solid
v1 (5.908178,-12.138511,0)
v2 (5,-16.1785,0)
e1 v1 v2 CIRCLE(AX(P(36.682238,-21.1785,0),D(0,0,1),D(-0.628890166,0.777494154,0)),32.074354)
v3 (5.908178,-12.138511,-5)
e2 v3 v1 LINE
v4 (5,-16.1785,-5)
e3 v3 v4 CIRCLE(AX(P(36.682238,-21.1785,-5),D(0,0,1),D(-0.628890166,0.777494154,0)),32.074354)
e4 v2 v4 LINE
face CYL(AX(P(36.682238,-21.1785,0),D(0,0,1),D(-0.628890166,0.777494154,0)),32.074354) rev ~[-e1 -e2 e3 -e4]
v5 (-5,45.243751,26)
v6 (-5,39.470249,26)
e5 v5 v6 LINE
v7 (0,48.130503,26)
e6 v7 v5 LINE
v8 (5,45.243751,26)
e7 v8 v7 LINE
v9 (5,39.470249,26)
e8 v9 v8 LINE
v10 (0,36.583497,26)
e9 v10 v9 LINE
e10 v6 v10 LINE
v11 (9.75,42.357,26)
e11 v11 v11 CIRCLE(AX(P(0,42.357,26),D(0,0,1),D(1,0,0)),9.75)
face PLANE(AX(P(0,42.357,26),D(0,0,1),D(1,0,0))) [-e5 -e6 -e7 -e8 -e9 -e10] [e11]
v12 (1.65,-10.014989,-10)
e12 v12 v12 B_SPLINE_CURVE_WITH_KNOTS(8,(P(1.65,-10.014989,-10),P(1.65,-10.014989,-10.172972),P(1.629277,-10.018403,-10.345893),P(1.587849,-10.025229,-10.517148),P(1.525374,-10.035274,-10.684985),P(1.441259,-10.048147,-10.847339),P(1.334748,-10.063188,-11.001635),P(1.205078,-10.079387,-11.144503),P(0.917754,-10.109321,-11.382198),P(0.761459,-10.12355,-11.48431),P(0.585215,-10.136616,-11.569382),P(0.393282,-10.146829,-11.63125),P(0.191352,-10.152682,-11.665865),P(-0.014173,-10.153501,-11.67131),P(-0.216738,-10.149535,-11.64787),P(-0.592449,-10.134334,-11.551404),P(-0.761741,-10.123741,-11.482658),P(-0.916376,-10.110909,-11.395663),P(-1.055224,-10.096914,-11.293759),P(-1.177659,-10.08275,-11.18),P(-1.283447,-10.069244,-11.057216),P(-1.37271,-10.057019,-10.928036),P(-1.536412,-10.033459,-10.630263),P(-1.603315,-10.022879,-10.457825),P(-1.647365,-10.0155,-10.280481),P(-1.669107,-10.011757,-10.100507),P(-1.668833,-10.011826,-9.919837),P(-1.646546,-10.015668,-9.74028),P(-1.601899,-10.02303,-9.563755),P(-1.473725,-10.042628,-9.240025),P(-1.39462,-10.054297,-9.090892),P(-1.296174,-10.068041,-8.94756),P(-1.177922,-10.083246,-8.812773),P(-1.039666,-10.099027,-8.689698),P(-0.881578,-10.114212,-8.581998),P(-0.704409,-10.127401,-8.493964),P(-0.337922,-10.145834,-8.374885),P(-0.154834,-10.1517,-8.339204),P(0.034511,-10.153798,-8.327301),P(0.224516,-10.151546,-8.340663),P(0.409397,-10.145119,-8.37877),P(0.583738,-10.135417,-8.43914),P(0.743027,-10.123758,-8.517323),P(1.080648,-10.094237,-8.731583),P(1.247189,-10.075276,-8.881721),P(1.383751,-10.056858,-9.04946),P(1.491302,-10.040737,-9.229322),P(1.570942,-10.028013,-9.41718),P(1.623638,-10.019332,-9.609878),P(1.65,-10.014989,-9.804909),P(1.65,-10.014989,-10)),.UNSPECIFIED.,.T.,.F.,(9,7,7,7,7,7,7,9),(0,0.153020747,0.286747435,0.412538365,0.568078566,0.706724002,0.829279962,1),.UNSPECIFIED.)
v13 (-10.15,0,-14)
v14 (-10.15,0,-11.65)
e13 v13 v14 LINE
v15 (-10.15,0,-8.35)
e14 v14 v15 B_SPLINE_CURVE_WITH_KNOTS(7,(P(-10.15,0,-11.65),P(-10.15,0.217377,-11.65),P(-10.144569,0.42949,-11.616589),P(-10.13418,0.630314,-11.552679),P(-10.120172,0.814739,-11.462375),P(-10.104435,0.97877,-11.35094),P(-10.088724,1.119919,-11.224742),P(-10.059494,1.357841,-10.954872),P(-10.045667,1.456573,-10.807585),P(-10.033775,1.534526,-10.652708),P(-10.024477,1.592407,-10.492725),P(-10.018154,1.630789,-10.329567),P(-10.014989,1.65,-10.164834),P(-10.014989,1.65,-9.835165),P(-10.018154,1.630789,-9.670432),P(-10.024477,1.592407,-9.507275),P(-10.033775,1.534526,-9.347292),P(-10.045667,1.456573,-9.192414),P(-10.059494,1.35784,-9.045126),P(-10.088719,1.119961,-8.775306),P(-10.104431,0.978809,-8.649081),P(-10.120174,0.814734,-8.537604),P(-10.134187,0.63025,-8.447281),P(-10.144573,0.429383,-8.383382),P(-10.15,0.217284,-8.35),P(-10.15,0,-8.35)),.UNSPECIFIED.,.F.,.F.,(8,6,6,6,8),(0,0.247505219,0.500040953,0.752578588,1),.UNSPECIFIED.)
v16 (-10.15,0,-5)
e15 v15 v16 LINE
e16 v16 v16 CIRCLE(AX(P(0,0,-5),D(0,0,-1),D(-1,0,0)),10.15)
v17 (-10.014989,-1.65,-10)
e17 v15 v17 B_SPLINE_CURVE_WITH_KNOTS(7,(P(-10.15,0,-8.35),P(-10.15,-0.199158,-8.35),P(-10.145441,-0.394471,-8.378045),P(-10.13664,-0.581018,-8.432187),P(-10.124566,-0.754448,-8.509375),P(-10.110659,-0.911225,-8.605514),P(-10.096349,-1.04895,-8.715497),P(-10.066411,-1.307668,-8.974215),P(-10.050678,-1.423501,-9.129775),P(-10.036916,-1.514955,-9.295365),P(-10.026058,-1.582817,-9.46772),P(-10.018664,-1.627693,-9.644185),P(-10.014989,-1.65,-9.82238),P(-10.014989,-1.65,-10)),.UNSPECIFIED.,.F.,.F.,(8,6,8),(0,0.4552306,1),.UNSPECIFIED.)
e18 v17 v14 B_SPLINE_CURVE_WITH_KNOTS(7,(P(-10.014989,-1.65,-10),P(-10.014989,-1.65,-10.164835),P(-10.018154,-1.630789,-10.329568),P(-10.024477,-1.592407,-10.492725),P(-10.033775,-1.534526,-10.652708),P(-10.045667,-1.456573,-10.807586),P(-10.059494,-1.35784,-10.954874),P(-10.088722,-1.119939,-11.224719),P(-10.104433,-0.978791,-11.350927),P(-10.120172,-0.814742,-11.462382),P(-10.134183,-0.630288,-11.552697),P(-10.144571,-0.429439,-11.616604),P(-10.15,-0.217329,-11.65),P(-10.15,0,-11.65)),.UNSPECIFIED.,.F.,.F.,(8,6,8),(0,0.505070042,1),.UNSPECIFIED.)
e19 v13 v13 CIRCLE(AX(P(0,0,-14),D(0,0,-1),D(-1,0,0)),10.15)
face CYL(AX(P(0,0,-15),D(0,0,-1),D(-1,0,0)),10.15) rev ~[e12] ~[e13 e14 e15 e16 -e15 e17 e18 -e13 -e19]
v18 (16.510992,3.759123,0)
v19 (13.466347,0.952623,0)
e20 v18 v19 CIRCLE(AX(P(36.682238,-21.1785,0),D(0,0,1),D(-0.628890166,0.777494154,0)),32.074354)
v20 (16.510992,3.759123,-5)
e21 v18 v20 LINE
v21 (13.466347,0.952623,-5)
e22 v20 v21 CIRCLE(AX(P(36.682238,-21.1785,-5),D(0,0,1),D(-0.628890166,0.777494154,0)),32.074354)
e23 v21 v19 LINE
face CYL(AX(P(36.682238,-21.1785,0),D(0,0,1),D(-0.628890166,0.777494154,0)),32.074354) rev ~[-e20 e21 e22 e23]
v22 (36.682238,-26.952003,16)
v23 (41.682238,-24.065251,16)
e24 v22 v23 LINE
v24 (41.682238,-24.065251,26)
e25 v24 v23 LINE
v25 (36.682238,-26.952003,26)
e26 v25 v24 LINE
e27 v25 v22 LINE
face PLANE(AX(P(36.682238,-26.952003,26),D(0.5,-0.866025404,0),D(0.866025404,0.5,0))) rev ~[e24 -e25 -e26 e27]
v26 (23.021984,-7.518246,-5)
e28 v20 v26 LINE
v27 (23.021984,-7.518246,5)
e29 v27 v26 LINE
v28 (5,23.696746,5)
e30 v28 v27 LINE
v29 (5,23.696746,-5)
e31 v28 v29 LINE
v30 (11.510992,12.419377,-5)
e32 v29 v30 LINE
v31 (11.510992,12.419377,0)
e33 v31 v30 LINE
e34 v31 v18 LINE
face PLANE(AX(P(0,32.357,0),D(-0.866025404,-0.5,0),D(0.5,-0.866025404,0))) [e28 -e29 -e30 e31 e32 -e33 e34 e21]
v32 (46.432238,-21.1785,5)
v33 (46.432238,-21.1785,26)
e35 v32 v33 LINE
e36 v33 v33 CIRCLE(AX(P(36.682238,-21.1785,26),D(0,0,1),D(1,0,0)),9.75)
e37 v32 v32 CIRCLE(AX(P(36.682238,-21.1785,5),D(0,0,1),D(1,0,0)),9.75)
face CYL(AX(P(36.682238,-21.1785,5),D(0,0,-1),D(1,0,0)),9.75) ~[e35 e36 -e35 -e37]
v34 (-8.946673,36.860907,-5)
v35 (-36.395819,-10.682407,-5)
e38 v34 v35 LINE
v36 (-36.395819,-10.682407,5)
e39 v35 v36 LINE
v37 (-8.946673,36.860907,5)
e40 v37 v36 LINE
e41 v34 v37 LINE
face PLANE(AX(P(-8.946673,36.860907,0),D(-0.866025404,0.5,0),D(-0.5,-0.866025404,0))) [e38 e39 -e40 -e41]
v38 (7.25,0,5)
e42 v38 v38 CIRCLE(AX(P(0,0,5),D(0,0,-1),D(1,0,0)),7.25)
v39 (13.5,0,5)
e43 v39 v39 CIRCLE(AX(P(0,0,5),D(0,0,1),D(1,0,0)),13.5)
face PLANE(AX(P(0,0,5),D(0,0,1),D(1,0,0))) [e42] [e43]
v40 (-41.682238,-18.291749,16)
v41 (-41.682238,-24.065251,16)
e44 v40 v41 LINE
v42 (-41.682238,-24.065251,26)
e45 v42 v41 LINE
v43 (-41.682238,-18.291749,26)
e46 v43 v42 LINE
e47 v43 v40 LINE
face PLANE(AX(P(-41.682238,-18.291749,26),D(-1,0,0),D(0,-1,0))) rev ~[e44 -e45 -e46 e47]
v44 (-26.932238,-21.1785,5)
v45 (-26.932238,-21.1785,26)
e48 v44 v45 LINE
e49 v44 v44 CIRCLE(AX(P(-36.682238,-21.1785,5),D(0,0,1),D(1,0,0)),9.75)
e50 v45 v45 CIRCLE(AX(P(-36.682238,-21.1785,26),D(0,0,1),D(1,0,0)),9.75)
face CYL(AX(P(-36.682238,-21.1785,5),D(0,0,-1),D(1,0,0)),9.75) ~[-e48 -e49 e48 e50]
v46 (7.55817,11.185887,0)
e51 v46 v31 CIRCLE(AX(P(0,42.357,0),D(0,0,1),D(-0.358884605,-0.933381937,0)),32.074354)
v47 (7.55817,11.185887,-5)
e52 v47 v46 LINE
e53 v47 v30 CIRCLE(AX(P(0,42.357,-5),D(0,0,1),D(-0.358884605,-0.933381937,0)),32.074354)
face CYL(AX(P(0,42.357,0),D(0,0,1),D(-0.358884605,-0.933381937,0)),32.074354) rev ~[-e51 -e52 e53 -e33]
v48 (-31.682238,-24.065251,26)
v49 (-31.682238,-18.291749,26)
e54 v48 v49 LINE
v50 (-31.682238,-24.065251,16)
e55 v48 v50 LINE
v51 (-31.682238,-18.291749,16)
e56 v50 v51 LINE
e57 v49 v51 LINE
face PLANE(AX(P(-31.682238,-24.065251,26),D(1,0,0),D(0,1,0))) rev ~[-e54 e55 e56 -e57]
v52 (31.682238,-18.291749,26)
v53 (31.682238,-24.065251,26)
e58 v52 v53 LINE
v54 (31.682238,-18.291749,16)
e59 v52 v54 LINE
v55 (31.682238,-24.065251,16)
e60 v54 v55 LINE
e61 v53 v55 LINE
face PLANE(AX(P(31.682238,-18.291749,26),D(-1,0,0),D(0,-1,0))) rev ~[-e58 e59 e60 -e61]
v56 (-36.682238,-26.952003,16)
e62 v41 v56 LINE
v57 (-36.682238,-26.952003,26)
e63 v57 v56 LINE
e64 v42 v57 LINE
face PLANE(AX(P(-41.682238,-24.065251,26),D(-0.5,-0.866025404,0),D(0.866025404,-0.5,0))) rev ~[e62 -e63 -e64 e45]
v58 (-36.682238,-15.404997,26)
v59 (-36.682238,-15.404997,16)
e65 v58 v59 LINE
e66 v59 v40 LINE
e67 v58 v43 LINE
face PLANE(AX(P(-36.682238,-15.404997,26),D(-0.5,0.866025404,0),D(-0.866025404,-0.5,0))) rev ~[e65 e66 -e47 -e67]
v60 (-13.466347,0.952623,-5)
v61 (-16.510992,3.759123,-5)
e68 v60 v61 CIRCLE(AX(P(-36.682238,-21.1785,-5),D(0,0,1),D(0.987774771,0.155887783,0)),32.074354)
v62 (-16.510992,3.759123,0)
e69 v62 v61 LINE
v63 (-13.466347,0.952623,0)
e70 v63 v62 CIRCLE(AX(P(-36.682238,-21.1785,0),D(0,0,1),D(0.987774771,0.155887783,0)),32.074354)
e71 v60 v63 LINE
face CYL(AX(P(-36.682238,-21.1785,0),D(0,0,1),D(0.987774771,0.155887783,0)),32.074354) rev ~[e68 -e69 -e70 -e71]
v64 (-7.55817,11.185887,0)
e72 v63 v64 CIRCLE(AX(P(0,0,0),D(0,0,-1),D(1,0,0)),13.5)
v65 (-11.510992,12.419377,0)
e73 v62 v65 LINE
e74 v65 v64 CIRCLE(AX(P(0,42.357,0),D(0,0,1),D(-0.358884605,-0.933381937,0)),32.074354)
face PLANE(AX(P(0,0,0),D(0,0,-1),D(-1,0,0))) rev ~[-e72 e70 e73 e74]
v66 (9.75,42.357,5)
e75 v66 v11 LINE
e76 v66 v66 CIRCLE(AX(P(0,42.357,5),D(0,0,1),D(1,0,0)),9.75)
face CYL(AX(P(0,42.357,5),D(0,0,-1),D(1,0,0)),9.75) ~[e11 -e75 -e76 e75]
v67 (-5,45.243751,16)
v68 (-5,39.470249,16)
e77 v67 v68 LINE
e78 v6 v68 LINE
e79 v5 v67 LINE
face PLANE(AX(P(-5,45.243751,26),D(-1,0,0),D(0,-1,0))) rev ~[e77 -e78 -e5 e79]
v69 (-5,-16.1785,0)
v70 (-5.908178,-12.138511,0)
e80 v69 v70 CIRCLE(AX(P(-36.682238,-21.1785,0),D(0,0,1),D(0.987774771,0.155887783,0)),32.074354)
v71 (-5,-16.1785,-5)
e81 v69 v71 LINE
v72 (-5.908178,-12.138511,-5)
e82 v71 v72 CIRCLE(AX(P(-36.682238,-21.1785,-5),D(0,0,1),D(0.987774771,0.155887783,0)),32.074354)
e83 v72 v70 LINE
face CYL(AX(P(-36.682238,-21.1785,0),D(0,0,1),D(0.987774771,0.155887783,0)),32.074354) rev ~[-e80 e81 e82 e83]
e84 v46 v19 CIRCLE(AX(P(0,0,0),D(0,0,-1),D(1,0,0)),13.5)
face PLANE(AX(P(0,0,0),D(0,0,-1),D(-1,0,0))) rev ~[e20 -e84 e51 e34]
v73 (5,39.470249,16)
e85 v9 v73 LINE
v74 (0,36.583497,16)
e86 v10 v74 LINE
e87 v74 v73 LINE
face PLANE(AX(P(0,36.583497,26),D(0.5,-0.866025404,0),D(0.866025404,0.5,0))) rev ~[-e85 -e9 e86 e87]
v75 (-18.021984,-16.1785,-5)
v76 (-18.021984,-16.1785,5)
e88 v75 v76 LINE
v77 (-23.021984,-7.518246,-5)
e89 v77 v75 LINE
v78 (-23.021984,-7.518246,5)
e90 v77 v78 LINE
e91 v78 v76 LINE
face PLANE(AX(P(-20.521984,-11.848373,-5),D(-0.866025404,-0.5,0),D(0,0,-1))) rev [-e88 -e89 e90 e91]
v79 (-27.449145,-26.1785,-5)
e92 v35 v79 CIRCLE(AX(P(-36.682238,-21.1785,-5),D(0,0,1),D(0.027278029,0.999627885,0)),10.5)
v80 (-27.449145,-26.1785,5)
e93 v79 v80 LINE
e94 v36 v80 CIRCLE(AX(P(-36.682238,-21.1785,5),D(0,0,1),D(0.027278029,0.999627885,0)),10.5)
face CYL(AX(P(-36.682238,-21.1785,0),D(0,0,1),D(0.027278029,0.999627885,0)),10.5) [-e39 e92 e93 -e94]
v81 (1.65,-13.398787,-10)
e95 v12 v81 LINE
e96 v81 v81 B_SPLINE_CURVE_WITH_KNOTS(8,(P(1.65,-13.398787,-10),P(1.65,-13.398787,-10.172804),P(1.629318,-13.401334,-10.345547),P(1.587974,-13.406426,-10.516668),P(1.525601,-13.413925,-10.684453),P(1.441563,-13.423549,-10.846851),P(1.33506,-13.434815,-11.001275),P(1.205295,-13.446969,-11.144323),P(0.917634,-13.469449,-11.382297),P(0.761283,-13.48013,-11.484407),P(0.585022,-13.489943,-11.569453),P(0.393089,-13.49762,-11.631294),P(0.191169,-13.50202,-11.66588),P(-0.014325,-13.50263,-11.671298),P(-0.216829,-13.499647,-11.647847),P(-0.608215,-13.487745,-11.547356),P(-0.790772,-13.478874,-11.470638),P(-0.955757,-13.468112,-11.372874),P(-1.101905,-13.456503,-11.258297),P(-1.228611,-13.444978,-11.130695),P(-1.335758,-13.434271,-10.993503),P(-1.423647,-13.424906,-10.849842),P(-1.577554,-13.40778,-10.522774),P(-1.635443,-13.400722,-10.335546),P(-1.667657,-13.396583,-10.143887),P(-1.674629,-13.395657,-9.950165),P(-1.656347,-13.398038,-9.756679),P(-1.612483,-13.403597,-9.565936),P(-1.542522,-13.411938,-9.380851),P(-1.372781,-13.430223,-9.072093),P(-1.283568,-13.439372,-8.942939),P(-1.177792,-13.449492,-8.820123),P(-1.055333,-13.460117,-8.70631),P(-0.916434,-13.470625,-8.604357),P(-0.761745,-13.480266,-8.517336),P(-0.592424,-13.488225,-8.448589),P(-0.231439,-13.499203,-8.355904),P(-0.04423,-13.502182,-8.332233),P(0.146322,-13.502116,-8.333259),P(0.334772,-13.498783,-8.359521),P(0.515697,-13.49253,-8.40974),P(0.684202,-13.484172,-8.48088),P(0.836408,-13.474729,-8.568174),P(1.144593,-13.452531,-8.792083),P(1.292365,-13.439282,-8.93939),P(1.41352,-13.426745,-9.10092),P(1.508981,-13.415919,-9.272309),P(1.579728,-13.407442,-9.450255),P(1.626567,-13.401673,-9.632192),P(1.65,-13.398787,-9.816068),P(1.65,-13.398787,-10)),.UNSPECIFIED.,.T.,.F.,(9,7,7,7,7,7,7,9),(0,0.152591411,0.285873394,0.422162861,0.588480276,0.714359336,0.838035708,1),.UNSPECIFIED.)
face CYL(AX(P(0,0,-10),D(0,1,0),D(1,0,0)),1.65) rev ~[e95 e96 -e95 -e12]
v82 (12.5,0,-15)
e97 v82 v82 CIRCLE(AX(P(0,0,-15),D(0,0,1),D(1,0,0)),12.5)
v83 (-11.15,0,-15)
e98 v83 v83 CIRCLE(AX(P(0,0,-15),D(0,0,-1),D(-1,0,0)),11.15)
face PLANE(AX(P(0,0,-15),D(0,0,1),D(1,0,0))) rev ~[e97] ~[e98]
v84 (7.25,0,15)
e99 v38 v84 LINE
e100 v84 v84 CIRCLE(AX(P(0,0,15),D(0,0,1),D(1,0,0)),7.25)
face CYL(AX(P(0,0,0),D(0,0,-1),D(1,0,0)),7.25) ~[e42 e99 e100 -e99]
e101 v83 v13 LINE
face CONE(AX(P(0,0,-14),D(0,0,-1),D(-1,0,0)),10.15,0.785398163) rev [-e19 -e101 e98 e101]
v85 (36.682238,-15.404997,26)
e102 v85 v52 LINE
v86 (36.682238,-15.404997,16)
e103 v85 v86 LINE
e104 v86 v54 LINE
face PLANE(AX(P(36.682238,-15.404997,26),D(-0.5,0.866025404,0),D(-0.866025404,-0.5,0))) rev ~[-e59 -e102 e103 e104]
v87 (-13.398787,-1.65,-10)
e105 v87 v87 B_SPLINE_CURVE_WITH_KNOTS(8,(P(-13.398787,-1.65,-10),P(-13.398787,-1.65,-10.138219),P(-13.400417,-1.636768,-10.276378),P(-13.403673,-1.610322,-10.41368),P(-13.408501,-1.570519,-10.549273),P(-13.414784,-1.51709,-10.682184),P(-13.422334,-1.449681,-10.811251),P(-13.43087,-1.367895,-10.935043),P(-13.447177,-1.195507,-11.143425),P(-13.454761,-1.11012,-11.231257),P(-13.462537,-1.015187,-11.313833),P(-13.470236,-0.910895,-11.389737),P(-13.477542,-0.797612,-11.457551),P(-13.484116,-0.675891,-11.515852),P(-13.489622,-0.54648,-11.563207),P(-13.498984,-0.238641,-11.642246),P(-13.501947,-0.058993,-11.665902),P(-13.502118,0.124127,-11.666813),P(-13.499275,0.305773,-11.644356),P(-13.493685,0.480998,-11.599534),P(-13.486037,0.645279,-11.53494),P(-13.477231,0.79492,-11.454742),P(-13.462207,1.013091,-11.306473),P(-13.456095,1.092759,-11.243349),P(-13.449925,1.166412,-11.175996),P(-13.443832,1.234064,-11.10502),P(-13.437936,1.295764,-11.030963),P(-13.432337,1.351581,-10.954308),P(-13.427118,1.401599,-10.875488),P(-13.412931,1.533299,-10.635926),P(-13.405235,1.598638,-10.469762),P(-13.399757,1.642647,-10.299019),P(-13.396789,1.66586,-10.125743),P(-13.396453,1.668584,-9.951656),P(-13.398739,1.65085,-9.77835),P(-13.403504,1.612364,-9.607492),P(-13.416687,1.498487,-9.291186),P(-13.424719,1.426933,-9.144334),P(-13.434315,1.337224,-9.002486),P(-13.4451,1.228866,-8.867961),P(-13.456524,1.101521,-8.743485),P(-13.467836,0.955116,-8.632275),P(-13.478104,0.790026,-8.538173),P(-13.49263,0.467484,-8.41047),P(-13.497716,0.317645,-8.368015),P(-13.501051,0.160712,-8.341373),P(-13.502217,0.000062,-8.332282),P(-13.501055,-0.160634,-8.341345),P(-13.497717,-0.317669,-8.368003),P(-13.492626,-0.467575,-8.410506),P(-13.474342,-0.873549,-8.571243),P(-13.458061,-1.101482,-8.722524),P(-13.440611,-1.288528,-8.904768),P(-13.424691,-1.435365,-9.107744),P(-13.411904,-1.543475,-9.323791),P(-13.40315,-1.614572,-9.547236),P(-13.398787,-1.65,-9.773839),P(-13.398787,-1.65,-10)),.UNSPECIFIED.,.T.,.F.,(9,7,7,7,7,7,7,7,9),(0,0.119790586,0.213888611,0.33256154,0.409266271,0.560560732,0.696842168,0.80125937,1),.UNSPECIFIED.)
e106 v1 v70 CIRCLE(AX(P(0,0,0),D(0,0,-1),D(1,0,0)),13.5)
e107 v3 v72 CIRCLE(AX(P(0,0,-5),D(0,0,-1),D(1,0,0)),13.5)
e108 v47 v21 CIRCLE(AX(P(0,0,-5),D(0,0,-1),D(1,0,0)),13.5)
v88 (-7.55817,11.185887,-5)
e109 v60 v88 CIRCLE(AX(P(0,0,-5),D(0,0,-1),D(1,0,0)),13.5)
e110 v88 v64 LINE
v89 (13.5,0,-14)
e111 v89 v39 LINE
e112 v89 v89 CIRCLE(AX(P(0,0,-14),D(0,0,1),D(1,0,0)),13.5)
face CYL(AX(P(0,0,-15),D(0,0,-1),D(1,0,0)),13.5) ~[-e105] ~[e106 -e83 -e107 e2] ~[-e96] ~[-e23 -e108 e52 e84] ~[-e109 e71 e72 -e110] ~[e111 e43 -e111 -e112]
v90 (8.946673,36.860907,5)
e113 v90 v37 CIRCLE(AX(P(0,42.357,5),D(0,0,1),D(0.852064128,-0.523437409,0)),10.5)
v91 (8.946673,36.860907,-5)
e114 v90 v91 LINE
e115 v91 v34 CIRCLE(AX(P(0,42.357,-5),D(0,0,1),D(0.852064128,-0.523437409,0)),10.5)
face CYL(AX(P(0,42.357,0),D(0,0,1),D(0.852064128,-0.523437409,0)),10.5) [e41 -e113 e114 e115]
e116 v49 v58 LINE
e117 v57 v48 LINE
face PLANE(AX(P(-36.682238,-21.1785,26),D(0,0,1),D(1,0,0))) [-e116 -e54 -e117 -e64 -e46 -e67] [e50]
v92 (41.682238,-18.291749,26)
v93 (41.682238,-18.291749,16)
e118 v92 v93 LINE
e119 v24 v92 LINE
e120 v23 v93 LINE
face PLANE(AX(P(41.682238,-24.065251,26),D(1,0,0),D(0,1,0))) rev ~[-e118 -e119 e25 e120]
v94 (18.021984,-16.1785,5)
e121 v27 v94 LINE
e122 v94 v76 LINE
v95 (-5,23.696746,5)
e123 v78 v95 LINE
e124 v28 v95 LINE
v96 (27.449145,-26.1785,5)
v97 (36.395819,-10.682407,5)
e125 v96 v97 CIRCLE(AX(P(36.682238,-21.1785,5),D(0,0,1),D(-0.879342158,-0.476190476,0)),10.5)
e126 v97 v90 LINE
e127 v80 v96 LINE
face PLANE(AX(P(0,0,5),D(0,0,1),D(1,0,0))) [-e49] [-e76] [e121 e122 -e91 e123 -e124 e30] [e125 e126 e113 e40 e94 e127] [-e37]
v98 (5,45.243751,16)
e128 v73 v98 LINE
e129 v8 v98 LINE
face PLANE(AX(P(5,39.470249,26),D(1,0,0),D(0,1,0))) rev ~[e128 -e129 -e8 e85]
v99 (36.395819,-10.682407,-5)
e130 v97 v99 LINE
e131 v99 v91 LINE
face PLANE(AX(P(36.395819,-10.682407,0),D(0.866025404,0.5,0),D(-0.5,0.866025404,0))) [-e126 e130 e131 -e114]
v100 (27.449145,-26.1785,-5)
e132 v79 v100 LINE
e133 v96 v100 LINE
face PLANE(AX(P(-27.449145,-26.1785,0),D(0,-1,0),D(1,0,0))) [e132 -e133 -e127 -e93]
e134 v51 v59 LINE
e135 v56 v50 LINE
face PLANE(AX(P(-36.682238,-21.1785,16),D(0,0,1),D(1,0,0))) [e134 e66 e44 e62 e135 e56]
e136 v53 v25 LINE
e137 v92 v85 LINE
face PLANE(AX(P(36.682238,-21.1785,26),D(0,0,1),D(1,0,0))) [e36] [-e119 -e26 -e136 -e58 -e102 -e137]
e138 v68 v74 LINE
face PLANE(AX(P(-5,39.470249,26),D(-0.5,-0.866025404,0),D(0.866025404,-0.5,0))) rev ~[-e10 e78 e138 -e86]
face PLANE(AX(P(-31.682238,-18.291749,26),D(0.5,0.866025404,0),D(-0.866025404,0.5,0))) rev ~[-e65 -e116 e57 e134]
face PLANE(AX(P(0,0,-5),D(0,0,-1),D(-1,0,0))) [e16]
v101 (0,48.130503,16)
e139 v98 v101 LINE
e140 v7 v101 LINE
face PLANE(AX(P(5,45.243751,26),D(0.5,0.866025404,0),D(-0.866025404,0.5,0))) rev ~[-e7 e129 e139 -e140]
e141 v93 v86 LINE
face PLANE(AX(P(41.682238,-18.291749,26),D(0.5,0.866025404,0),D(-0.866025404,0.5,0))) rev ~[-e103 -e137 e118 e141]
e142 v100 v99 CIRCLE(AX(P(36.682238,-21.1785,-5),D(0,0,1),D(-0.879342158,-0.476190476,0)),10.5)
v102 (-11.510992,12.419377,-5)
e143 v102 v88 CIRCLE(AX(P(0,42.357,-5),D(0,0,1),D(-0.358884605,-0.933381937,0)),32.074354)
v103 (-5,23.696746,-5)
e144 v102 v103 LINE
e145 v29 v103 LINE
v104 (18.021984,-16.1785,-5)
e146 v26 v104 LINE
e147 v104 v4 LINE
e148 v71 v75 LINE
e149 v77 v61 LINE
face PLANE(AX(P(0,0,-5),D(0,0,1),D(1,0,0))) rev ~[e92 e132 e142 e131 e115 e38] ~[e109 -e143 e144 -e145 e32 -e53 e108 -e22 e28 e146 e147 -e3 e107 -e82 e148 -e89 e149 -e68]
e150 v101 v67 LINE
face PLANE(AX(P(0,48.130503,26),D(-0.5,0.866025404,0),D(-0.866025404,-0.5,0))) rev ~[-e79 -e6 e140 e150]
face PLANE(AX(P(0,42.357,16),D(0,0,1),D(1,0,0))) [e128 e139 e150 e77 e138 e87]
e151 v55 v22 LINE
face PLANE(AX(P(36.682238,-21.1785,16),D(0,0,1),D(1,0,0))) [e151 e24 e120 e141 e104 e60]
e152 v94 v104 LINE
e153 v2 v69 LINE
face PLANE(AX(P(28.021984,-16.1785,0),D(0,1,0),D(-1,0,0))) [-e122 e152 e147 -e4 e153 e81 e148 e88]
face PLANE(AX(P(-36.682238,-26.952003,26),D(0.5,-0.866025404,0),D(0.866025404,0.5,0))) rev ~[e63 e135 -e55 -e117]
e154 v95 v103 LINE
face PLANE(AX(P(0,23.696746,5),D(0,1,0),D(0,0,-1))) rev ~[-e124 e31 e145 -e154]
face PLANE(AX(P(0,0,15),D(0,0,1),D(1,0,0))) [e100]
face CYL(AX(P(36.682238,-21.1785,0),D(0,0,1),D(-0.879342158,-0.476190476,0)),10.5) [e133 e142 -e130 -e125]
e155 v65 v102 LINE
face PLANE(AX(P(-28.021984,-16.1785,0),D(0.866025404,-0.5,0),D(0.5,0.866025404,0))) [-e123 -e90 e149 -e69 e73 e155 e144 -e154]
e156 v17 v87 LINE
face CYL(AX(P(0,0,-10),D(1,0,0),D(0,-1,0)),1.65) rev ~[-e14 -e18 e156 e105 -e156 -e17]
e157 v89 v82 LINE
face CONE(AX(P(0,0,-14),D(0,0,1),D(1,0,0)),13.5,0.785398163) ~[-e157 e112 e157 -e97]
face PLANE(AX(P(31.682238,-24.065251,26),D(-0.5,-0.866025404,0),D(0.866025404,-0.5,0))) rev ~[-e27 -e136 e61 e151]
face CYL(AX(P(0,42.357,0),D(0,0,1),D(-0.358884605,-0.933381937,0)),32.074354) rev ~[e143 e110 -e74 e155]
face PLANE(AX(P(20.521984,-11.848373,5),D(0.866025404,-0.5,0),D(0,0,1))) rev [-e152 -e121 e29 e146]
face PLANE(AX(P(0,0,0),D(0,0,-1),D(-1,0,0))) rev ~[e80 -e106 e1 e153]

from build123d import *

# Parameters (mm, degrees)
BOSS_EXTRUDE1_DEPTH = 5
BOSS_EXTRUDE2_DEPTH = 5
SKETCH4_R           = 9.75
BOSS_EXTRUDE3_DEPTH = 21
BOSS_EXTRUDE4_START = -15
SKETCH5_R           = 13.5
BOSS_EXTRUDE4_DEPTH = 20
SKETCH5_3_R         = 7.25
BOSS_EXTRUDE5_DEPTH = 15
CHAMFER1_SIZE       = 10
CUT_EXTRUDE1_DEPTH  = 10
SKETCH9_R           = 10.15
CUT_EXTRUDE2_DEPTH  = 10
CHAMFER2_SIZE       = 1
SKETCH10_R          = 1.65
CUT_EXTRUDE3_DEPTH  = 32.6785
CIRPATTERN1_COUNT   = 2
CIRPATTERN1_ANGLE   = 90


with BuildPart() as part:
    # Sketch2 → Boss-Extrude1 (new body, symmetric)
    with BuildSketch(Plane.XY):
        with BuildLine():
            ThreePointArc((8.946673347, 36.860907204), (0, 52.857), (-8.946673347, 36.860907204))
            Line((-8.946673347, 36.860907204), (-36.395818719, -10.682407204))
            ThreePointArc((-36.395818719, -10.682407204), (-45.775504768, -26.4285), (-27.449145372, -26.1785))
            Line((-27.449145372, -26.1785), (27.449145372, -26.1785))
            ThreePointArc((27.449145372, -26.1785), (45.775504768, -26.4285), (36.395818719, -10.682407204))
            Line((36.395818719, -10.682407204), (8.946673347, 36.860907204))
        make_face()
        Polygon((-28.02198399, -16.1785), (0, 32.357), (28.02198399, -16.1785), align=None, mode=Mode.SUBTRACT)
    extrude(amount=BOSS_EXTRUDE1_DEPTH, both=True)

    # Sketch3 → Boss-Extrude2 (add)
    with BuildSketch(Plane.XY):
        with BuildLine():
            Line((-16.510991995, 3.759122981), (-11.510991995, 12.419377019))
            ThreePointArc((-11.510991995, 12.419377019), (0, 10.282645658), (11.510991995, 12.419377019))
            Line((11.510991995, 12.419377019), (16.510991995, 3.759122981))
            ThreePointArc((16.510991995, 3.759122981), (8.905032358, -5.141322829), (5, -16.1785))
            Line((5, -16.1785), (-5, -16.1785))
            ThreePointArc((-5, -16.1785), (-8.905032358, -5.141322829), (-16.510991995, 3.759122981))
        make_face()
    extrude(amount=-BOSS_EXTRUDE2_DEPTH)

    # Sketch4 → Boss-Extrude3 (add)
    with BuildSketch(Plane.XY.offset(5)):
        with Locations((-36.682238028, -21.1785)):
            Circle(SKETCH4_R)
        with Locations((36.682238028, -21.1785)):
            Circle(SKETCH4_R)
        with Locations((0, 42.357)):
            Circle(SKETCH4_R)
    extrude(amount=BOSS_EXTRUDE3_DEPTH)

    # Sketch5 → Boss-Extrude4 (add)
    with BuildSketch(Plane.XY.offset(BOSS_EXTRUDE4_START)):
        Circle(SKETCH5_R)
    extrude(amount=BOSS_EXTRUDE4_DEPTH)

    # Sketch5_3 → Boss-Extrude5 (add)
    with BuildSketch(Plane.XY):
        Circle(SKETCH5_3_R)
    extrude(amount=BOSS_EXTRUDE5_DEPTH)

    # Chamfer1
    chamfer1_edges = [part.edges().sort_by_distance(p)[0] for p in [
        (28.02198399, -16.1785, 0),
        (-28.02198399, -16.1785, 0),
        (0, 32.357, 0),
    ]]
    chamfer(chamfer1_edges, length=CHAMFER1_SIZE)

    # Sketch8 → Cut-Extrude1 (cut)
    with BuildSketch(Plane.XY.offset(26)):
        Polygon((-41.682238028, -24.065251346), (-36.682238028, -26.952002692), (-31.682238028, -24.065251346), (-31.682238028, -18.291748654), (-36.682238028, -15.404997308), (-41.682238028, -18.291748654), align=None)
        Polygon((41.682238028, -24.065251346), (41.682238028, -18.291748654), (36.682238028, -15.404997308), (31.682238028, -18.291748654), (31.682238028, -24.065251346), (36.682238028, -26.952002692), align=None)
        Polygon((0, 48.130502692), (-5, 45.243751346), (-5, 39.470248654), (0, 36.583497308), (5, 39.470248654), (5, 45.243751346), align=None)
    extrude(amount=-CUT_EXTRUDE1_DEPTH, mode=Mode.SUBTRACT)

    # Sketch9 → Cut-Extrude2 (cut)
    with BuildSketch(Plane(origin=(0, 0, -15), x_dir=(-1, 0, 0), z_dir=(0, 0, -1))):
        Circle(SKETCH9_R)
    extrude(amount=-CUT_EXTRUDE2_DEPTH, mode=Mode.SUBTRACT)

    # Chamfer2
    chamfer2_edges = [part.edges().sort_by_distance(p)[0] for p in [
        (10.15, 0, -15),
        (-13.5, 0, -15),
    ]]
    chamfer(chamfer2_edges, length=CHAMFER2_SIZE)

    # Sketch10 → Cut-Extrude3 (cut, through all)
    with BuildSketch(Plane(origin=(0, 0, 0), x_dir=(1, 0, 0), z_dir=(0, 1, 0))):
        with Locations((0, 10)):
            Circle(SKETCH10_R)
    cut_extrude3 = extrude(amount=-CUT_EXTRUDE3_DEPTH, mode=Mode.SUBTRACT)

    # CirPattern1: Cut-Extrude3 ×2 about axis
    cirpattern1_axis = Axis((0, 0, 43.183766184), (0, 0, -1))
    for i in range(1, CIRPATTERN1_COUNT):
        add(cut_extrude3.rotate(cirpattern1_axis, i * CIRPATTERN1_ANGLE / (CIRPATTERN1_COUNT - 1)), mode=Mode.SUBTRACT)


solid = part.part
